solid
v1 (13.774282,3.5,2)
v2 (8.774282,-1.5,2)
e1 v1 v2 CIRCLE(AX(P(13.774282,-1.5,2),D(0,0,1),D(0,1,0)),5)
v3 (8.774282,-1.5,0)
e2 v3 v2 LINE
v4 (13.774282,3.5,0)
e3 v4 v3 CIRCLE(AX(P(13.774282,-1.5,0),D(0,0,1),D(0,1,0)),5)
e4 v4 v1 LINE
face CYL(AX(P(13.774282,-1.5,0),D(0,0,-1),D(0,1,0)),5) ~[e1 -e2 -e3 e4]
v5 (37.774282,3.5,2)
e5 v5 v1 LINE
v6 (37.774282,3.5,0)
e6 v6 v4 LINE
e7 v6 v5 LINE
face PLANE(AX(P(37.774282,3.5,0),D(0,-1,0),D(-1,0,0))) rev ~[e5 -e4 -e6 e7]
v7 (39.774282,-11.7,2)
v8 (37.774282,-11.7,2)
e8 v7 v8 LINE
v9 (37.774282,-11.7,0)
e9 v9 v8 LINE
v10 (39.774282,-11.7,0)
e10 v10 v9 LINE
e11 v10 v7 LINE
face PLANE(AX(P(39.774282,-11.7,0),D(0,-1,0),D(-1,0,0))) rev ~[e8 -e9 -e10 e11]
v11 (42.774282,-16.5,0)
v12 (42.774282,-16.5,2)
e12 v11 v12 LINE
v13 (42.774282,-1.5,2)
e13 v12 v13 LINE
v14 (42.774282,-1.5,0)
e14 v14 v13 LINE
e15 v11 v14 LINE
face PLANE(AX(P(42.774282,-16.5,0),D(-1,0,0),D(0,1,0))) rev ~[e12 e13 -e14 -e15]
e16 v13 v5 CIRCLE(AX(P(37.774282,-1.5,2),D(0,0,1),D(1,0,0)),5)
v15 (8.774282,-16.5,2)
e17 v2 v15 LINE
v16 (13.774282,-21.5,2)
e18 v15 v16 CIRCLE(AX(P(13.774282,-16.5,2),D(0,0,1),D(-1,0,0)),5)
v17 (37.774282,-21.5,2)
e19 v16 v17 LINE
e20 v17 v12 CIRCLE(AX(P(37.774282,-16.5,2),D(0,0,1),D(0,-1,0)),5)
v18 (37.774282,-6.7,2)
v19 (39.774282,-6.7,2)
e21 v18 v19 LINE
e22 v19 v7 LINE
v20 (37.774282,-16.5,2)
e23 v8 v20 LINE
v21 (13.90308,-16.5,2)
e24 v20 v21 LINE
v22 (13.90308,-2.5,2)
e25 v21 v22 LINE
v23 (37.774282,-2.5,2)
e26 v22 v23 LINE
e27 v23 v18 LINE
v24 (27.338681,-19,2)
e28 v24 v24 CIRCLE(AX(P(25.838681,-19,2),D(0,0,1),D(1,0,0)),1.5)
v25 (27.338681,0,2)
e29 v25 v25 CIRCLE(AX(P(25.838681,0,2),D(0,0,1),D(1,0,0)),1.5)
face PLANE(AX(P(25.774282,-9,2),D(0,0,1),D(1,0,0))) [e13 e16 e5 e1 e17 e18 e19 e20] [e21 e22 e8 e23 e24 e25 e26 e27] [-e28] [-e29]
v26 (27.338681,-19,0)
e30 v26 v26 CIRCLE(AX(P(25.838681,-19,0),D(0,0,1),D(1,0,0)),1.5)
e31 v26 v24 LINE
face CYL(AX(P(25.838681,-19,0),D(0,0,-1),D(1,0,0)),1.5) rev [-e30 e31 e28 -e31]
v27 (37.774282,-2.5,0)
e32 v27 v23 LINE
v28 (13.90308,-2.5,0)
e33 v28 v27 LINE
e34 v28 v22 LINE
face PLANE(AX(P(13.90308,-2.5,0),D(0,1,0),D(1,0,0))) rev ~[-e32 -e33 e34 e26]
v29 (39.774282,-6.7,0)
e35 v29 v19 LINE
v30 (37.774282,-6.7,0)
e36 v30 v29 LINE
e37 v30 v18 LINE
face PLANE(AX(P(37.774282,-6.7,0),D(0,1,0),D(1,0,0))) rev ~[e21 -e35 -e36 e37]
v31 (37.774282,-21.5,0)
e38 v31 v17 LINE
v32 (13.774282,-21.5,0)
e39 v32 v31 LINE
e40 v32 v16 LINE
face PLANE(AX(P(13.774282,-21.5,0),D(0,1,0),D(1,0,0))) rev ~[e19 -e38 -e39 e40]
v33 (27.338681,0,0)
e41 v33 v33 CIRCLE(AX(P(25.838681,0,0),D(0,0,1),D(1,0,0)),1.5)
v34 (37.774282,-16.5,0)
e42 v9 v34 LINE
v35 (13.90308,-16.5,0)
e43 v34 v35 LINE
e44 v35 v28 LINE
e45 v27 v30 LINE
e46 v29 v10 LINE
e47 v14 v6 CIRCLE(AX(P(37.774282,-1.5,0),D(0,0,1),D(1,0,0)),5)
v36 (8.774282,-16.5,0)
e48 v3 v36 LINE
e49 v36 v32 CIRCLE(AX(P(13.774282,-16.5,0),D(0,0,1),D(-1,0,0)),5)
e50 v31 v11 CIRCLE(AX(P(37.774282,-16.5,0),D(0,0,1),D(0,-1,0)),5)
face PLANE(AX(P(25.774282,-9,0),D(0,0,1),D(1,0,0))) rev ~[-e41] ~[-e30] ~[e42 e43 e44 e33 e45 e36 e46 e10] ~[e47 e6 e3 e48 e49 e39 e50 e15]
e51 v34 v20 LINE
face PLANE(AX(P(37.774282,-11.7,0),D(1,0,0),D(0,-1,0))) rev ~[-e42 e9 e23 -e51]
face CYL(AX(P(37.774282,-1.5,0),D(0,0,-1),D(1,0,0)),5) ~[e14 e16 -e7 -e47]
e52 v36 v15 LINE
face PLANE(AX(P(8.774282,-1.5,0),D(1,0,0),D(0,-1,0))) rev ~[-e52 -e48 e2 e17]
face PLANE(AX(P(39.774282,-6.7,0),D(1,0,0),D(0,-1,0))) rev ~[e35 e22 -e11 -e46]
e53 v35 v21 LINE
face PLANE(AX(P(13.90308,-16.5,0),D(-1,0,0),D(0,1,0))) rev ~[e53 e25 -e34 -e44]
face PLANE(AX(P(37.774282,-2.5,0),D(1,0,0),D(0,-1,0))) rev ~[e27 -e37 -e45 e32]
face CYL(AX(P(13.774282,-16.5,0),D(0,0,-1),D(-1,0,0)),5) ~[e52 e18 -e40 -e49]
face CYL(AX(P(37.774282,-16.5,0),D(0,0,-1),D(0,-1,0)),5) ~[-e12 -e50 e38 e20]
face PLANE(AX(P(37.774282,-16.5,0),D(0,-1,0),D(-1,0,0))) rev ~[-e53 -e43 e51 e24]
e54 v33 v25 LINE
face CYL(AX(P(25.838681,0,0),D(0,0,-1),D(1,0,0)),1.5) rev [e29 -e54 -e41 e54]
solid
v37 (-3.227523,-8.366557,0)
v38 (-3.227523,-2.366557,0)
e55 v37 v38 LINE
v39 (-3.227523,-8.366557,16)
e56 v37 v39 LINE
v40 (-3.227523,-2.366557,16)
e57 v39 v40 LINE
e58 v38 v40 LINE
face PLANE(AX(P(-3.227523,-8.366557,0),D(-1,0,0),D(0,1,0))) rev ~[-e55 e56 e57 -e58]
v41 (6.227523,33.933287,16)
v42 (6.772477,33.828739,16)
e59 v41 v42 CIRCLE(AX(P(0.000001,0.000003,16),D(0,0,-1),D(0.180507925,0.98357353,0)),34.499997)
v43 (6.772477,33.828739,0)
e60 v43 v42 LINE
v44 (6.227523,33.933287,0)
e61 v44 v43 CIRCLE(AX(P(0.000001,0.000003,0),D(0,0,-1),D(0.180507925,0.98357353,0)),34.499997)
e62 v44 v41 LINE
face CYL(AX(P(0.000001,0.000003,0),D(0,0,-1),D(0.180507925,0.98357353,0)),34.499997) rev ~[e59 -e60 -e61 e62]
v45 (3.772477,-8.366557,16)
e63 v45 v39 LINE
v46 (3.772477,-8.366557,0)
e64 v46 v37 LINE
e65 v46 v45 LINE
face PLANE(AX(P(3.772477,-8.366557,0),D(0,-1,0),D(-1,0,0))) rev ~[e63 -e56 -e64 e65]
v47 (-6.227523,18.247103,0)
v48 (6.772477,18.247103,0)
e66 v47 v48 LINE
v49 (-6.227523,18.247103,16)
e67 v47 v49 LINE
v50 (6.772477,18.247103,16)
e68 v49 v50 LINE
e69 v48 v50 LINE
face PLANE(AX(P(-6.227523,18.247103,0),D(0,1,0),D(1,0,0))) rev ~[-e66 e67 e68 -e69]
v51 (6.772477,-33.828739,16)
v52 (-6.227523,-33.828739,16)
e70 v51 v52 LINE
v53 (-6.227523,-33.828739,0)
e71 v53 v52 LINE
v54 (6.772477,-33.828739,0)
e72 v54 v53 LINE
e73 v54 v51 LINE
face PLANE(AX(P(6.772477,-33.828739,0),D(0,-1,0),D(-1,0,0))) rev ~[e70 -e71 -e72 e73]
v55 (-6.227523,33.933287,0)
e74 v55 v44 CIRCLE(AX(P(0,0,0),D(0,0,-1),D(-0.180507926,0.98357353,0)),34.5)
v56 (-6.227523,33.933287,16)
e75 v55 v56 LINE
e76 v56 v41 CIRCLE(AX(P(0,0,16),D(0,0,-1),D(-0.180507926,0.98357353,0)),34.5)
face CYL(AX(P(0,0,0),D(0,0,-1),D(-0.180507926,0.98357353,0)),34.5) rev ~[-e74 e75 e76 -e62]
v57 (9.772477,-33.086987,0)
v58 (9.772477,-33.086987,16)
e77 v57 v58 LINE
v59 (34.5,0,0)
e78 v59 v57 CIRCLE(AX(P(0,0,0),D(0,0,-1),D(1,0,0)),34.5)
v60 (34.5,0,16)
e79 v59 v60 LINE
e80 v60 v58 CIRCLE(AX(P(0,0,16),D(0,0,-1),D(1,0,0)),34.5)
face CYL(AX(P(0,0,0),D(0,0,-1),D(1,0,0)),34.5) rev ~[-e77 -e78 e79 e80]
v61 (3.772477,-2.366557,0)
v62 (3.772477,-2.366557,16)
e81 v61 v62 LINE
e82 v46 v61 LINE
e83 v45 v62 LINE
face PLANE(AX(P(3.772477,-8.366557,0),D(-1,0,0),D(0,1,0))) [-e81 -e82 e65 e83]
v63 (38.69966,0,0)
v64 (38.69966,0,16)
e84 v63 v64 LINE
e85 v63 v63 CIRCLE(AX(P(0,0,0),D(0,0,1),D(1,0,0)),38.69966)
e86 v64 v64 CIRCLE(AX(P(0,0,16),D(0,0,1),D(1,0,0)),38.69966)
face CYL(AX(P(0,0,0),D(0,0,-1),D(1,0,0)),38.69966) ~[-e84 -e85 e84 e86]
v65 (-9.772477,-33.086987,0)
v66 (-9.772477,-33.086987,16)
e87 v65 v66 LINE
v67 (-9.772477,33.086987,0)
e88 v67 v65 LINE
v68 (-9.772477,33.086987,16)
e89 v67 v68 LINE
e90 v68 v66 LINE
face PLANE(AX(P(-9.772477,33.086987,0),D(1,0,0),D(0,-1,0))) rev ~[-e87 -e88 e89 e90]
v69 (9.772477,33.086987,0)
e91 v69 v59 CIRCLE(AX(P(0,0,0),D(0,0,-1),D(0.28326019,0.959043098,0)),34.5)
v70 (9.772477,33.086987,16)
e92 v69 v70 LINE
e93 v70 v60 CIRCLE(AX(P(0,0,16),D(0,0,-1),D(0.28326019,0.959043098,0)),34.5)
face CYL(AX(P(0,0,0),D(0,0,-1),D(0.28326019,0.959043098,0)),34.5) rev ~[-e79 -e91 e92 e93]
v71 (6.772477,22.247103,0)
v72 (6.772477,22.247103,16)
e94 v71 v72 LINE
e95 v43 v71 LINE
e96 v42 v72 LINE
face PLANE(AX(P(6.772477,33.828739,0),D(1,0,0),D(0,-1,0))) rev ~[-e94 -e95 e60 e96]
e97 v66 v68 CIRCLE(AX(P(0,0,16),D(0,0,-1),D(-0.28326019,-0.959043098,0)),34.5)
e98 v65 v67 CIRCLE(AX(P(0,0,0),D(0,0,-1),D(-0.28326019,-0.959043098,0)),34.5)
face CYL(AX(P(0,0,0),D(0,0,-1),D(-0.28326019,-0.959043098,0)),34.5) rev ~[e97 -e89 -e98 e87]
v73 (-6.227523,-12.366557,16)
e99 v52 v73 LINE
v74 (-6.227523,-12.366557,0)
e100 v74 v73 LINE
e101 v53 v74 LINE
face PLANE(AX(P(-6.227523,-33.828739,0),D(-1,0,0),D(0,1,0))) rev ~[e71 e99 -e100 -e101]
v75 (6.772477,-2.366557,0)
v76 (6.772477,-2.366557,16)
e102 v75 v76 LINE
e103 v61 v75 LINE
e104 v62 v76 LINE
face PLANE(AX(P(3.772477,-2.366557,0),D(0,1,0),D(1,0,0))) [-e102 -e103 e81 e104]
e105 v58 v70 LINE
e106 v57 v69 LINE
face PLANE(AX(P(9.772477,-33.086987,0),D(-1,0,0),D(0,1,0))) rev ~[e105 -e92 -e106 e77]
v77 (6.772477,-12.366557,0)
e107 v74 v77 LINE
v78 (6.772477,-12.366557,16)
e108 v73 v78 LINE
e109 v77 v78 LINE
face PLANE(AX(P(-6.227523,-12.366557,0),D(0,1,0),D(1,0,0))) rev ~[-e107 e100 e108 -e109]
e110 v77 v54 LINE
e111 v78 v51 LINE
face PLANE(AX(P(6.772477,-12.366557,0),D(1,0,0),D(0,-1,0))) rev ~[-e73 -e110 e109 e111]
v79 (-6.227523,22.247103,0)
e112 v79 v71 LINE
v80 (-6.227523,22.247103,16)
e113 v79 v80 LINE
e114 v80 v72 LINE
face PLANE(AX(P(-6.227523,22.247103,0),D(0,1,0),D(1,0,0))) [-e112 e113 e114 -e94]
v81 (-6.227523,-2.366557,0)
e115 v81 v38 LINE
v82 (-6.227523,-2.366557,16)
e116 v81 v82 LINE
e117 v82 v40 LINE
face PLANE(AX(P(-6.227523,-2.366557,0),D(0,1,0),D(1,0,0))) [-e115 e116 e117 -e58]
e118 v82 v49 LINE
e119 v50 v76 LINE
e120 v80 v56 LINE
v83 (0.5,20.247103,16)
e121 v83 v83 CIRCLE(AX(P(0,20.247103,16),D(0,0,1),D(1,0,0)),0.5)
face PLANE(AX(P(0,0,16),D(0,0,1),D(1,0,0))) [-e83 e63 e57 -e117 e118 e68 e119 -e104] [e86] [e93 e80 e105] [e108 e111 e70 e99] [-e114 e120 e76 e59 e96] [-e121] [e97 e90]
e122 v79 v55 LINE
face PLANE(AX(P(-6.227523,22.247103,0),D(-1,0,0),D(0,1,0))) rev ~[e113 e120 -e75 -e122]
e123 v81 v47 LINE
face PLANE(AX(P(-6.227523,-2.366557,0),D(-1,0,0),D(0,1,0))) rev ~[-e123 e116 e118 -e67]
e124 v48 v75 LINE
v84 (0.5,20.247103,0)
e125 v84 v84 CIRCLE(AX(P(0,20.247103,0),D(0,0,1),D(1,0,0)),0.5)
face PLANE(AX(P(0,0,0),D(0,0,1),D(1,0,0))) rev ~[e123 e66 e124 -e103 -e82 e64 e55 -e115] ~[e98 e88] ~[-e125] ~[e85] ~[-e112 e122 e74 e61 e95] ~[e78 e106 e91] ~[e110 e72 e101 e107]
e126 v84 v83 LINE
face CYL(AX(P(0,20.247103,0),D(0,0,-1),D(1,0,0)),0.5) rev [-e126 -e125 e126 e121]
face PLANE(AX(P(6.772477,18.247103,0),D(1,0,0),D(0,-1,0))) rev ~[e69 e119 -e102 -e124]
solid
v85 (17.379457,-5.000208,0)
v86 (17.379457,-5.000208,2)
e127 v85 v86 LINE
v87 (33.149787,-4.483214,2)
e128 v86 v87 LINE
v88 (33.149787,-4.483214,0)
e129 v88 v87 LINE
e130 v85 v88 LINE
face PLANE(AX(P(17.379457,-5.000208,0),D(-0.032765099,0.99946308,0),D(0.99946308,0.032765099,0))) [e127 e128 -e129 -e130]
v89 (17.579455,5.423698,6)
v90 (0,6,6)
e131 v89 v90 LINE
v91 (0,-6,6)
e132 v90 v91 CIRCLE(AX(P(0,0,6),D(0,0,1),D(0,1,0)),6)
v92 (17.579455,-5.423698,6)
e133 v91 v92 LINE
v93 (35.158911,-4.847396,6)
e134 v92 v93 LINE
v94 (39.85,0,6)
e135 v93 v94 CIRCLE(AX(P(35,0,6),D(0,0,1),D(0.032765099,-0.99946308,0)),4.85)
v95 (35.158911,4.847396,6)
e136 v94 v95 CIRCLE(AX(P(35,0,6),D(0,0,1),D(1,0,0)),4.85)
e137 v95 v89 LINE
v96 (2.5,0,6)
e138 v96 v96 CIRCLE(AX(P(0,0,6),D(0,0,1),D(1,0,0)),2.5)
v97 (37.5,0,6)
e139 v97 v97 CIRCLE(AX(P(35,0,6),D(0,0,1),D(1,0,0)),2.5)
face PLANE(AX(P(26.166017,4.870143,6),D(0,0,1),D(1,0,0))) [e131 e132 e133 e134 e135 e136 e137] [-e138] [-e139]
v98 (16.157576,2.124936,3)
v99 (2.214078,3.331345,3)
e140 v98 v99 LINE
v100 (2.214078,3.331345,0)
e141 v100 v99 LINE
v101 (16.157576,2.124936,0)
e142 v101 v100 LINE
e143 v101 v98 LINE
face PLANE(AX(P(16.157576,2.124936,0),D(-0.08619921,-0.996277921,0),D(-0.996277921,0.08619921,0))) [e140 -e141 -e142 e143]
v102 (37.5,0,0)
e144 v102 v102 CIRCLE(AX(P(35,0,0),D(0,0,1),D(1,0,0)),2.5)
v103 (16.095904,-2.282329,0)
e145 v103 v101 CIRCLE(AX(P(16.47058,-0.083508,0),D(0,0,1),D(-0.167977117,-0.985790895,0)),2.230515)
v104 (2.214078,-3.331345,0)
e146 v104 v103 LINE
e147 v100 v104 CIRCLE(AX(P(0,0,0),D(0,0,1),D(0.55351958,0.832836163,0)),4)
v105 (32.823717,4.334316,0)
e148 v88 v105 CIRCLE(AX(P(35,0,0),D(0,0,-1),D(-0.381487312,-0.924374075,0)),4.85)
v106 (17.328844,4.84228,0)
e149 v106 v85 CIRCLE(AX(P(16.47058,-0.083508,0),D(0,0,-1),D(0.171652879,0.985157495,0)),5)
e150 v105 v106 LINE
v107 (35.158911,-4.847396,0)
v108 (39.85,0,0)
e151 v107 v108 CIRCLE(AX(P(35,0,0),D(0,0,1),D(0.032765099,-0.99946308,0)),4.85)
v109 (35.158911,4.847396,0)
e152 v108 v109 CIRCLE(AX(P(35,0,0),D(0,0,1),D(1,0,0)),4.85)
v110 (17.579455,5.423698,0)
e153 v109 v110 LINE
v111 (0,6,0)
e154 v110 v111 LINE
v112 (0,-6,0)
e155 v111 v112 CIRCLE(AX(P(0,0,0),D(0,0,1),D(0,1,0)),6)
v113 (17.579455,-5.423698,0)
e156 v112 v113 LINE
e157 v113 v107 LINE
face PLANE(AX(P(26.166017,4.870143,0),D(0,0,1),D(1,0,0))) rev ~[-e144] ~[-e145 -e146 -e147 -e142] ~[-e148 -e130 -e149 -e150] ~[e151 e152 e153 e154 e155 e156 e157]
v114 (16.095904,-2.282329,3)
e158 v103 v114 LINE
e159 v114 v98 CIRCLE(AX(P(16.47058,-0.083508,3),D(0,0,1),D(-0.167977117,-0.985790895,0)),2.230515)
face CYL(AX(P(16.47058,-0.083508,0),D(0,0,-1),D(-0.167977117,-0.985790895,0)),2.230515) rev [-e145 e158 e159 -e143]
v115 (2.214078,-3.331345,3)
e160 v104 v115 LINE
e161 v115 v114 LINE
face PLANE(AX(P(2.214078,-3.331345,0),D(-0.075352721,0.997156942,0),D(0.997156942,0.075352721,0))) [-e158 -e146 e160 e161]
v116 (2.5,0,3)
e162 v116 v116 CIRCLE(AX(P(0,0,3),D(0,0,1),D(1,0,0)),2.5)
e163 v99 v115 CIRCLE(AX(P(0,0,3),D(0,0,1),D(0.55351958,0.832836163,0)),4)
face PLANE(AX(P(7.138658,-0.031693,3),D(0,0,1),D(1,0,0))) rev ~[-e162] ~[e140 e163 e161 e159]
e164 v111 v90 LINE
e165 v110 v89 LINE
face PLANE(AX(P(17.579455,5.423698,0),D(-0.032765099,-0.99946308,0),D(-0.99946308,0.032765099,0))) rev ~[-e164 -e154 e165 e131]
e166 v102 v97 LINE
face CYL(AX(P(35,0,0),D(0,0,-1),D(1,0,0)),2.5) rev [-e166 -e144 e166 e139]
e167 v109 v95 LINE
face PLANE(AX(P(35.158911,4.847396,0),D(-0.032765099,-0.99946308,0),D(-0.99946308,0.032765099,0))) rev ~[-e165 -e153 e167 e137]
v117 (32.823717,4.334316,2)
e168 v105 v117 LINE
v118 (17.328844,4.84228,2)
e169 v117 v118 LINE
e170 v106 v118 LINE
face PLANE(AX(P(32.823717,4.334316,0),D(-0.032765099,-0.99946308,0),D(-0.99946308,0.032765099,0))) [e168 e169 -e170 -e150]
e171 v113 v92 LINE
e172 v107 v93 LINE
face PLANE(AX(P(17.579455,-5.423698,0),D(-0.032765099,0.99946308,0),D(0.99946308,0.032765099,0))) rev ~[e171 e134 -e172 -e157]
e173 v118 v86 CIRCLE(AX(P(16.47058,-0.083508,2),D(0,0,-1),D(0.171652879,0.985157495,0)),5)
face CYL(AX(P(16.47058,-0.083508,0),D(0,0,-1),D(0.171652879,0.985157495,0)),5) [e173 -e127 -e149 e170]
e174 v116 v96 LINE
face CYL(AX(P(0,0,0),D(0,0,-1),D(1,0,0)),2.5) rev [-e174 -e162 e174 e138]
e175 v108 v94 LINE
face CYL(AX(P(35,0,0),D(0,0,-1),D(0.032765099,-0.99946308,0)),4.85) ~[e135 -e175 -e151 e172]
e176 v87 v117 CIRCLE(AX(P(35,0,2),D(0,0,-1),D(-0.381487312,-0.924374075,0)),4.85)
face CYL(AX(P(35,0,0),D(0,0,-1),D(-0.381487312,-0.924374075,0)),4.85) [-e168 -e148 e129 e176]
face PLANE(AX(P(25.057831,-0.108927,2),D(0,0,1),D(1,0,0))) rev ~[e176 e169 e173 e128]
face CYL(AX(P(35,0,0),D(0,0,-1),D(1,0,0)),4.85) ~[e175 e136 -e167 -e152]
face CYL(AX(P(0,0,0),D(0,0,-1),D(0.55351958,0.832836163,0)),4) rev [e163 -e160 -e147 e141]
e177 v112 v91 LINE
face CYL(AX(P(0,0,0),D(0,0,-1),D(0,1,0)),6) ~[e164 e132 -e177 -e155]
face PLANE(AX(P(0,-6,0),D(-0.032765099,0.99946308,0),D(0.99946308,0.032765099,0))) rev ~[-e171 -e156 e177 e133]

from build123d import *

# Parameters (mm, degrees)
F0_R     = 1.5
F1_DEPTH = 2
F2_R     = 2.5
F3_DEPTH = 6
F4_DEPTH = 6
F5_DEPTH = 3
F6_DEPTH = 2
F7_R     = 38.6996597828
F7_W     = 3
F7_H     = 6
F7_W_2   = 13
F7_H_2   = 4
F7_R_2   = 0.5
F8_DEPTH = 16


with BuildPart() as f1:
    # F0 (on Top) → F1 (new body)
    with BuildSketch(Plane.XY):
        with BuildLine():
            Line((37.7742823958, 3.5), (13.7742823958, 3.5))
            ThreePointArc((13.7742823958, 3.5), (10.2387484899, 2.0355339059), (8.7742823958, -1.5))
            Line((8.7742823958, -1.5), (8.7742823958, -16.5))
            ThreePointArc((8.7742823958, -16.5), (10.2387484899, -20.0355339059), (13.7742823958, -21.5))
            Line((13.7742823958, -21.5), (37.7742823958, -21.5))
            ThreePointArc((37.7742823958, -21.5), (41.3098163018, -20.0355339059), (42.7742823958, -16.5))
            Line((42.7742823958, -16.5), (42.7742823958, -1.5))
            ThreePointArc((42.7742823958, -1.5), (41.3098163018, 2.0355339059), (37.7742823958, 3.5))
        make_face()
        with Locations((25.8386814408, -19)):
            Circle(F0_R, mode=Mode.SUBTRACT)
        Polygon((13.9030804858, -16.5), (13.9030804858, -2.5), (37.7742823958, -2.5), (37.7742823958, -6.7), (39.7742823958, -6.7), (39.7742823958, -11.7), (37.7742823958, -11.7), (37.7742823958, -16.5), align=None, mode=Mode.SUBTRACT)
        with Locations((25.8386814408, 0)):
            Circle(F0_R, mode=Mode.SUBTRACT)
    extrude(amount=F1_DEPTH)


with BuildPart() as f3:
    # F2 (on Top) → F3 (new body)
    with BuildSketch(Plane.XY):
        with BuildLine():
            Line((17.5794553661, 5.423697969), (0, 6))
            ThreePointArc((0, 6), (-6, 0), (0, -6))
            Line((0, -6), (17.5794553661, -5.423697969))
            Line((17.5794553661, -5.423697969), (17.3794570281, -5.0002082628))
            Line((17.3794570281, -5.0002082628), (16.0959043206, -2.2823288828))
            Line((16.0959043206, -2.2823288828), (2.2140783206, -3.331344652))
            ThreePointArc((2.2140783206, -3.331344652), (-4, 0), (2.2140783206, 3.331344652))
            Line((2.2140783206, 3.331344652), (16.1575759853, 2.1249358199))
            Line((16.1575759853, 2.1249358199), (17.3288441212, 4.8422795309))
            Line((17.3288441212, 4.8422795309), (17.5794553661, 5.423697969))
        make_face()
        with BuildLine():
            ThreePointArc((17.3794570281, -5.0002082628), (21.4705136181, -0.0577968417), (17.3288441212, 4.8422795309))
            Line((17.3288441212, 4.8422795309), (16.1575759853, 2.1249358199))
            ThreePointArc((16.1575759853, 2.1249358199), (18.7008759361, -0.1147168864), (16.0959043206, -2.2823288828))
            Line((16.0959043206, -2.2823288828), (17.3794570281, -5.0002082628))
        make_face()
        with BuildLine():
            ThreePointArc((39.85, 0), (38.4851984916, 3.3728165492), (35.1589107322, 4.8473959379))
            ThreePointArc((35.1589107322, 4.8473959379), (33.95920204, 4.7370074526), (32.8237171443, 4.3343157397))
            ThreePointArc((32.8237171443, 4.3343157397), (30.1533127814, -0.179228917), (33.149786536, -4.4832142641))
            ThreePointArc((33.149786536, -4.4832142641), (34.1349662981, -4.7722339312), (35.1589107322, -4.8473959379))
            ThreePointArc((35.1589107322, -4.8473959379), (38.4851984916, -3.3728165492), (39.85, 0))
        make_face()
        with Locations((35, 0)):
            Circle(F2_R, mode=Mode.SUBTRACT)
        with BuildLine():
            ThreePointArc((16.0959043206, -2.2823288828), (18.7008759361, -0.1147168864), (16.1575759853, 2.1249358199))
            Line((16.1575759853, 2.1249358199), (2.2140783206, 3.331344652))
            ThreePointArc((2.2140783206, 3.331344652), (-4, 0), (2.2140783206, -3.331344652))
            Line((2.2140783206, -3.331344652), (16.0959043206, -2.2823288828))
        make_face()
        Circle(F2_R, mode=Mode.SUBTRACT)
        with BuildLine():
            Line((32.8237171443, 4.3343157397), (17.3288441212, 4.8422795309))
            ThreePointArc((17.3288441212, 4.8422795309), (21.4705136181, -0.0577968417), (17.3794570281, -5.0002082628))
            Line((17.3794570281, -5.0002082628), (33.149786536, -4.4832142641))
            ThreePointArc((33.149786536, -4.4832142641), (30.1533127814, -0.179228917), (32.8237171443, 4.3343157397))
        make_face()
    extrude(amount=F3_DEPTH)

    # F2 (on Top) → F4 (join)
    with BuildSketch(Plane.XY):
        with BuildLine():
            Line((35.1589107322, 4.8473959379), (17.5794553661, 5.423697969))
            Line((17.5794553661, 5.423697969), (17.3288441212, 4.8422795309))
            Line((17.3288441212, 4.8422795309), (32.8237171443, 4.3343157397))
            ThreePointArc((32.8237171443, 4.3343157397), (33.95920204, 4.7370074526), (35.1589107322, 4.8473959379))
        make_face()
        with BuildLine():
            Line((17.3794570281, -5.0002082628), (17.5794553661, -5.423697969))
            Line((17.5794553661, -5.423697969), (35.1589107322, -4.8473959379))
            ThreePointArc((35.1589107322, -4.8473959379), (34.1349662981, -4.7722339312), (33.149786536, -4.4832142641))
            Line((33.149786536, -4.4832142641), (17.3794570281, -5.0002082628))
        make_face()
    extrude(amount=F4_DEPTH)

    # F2 (on Top) → F5 (cut)
    with BuildSketch(Plane.XY):
        with BuildLine():
            ThreePointArc((16.0959043206, -2.2823288828), (18.7008759361, -0.1147168864), (16.1575759853, 2.1249358199))
            Line((16.1575759853, 2.1249358199), (2.2140783206, 3.331344652))
            ThreePointArc((2.2140783206, 3.331344652), (-4, 0), (2.2140783206, -3.331344652))
            Line((2.2140783206, -3.331344652), (16.0959043206, -2.2823288828))
        make_face()
        Circle(F2_R, mode=Mode.SUBTRACT)
    extrude(amount=F5_DEPTH, mode=Mode.SUBTRACT)

    # F2 (on Top) → F6 (cut)
    with BuildSketch(Plane.XY):
        with BuildLine():
            Line((32.8237171443, 4.3343157397), (17.3288441212, 4.8422795309))
            ThreePointArc((17.3288441212, 4.8422795309), (21.4705136181, -0.0577968417), (17.3794570281, -5.0002082628))
            Line((17.3794570281, -5.0002082628), (33.149786536, -4.4832142641))
            ThreePointArc((33.149786536, -4.4832142641), (30.1533127814, -0.179228917), (32.8237171443, 4.3343157397))
        make_face()
    extrude(amount=F6_DEPTH, mode=Mode.SUBTRACT)


with BuildPart() as f8:
    # F7 (on Top) → F8 (new body)
    with BuildSketch(Plane.XY):
        Circle(F7_R)
        with BuildLine():
            ThreePointArc((9.7724765655, 33.0869868948), (27.6351265739, 20.653081592), (34.5, 0))
            ThreePointArc((34.5, 0), (27.6351265739, -20.653081592), (9.7724765655, -33.0869868948))
            ThreePointArc((9.7724765655, -33.0869868948), (8.2807860411, -33.4914702953), (6.7724765655, -33.8287386872))
            ThreePointArc((6.7724765655, -33.8287386872), (-1.5451695475, -34.4653804719), (-9.7724765655, -33.0869868948))
            ThreePointArc((-9.7724765655, -33.0869868948), (-34.5, 0), (-9.7724765655, 33.0869868948))
            ThreePointArc((-9.7724765655, 33.0869868948), (-8.0111831757, 33.5569805573), (-6.2275234345, 33.9332867826))
            ThreePointArc((-6.2275234345, 33.9332867826), (0, 34.5), (6.2275234345, 33.9332867826))
            ThreePointArc((6.2275234345, 33.9332867826), (6.5002101948, 33.8821083675), (6.7724765655, 33.8287386872))
            ThreePointArc((6.7724765655, 33.8287386872), (8.2807860411, 33.4914702953), (9.7724765655, 33.0869868948))
        make_face(mode=Mode.SUBTRACT)
        with Locations((5.2724765655, -5.3665565625)):
            Rectangle(F7_W, F7_H)
        with Locations((-4.7275234345, -5.3665565625)):
            Rectangle(F7_W, F7_H)
        with BuildLine():
            Line((9.7724765655, -33.0869868948), (9.7724765655, 33.0869868948))
            ThreePointArc((9.7724765655, 33.0869868948), (8.2807860411, 33.4914702953), (6.7724765655, 33.8287386872))
            Line((6.7724765655, 33.8287386872), (6.7724765655, 22.2471028529))
            Line((6.7724765655, 22.2471028529), (6.7724765655, 18.2471028529))
            Line((6.7724765655, 18.2471028529), (6.7724765655, -2.3665565625))
            Line((6.7724765655, -2.3665565625), (6.7724765655, -8.3665565625))
            Line((6.7724765655, -8.3665565625), (6.7724765655, -12.3665565625))
            Line((6.7724765655, -12.3665565625), (6.7724765655, -33.8287386872))
            ThreePointArc((6.7724765655, -33.8287386872), (8.2807860411, -33.4914702953), (9.7724765655, -33.0869868948))
        make_face()
        with Locations((0.2724765655, 20.2471028529)):
            Rectangle(F7_W_2, F7_H_2)
        with Locations((0, 20.2471028529)):
            Circle(F7_R_2, mode=Mode.SUBTRACT)
        with BuildLine():
            ThreePointArc((-9.7724765655, -33.0869868948), (-1.5451695475, -34.4653804719), (6.7724765655, -33.8287386872))
            Line((6.7724765655, -33.8287386872), (-6.2275234345, -33.8287386872))
            Line((-6.2275234345, -33.8287386872), (-6.2275234345, -12.3665565625))
            Line((-6.2275234345, -12.3665565625), (-6.2275234345, -8.3665565625))
            Line((-6.2275234345, -8.3665565625), (-6.2275234345, -2.3665565625))
            Line((-6.2275234345, -2.3665565625), (-6.2275234345, 18.2471028529))
            Line((-6.2275234345, 18.2471028529), (-6.2275234345, 22.2471028529))
            Line((-6.2275234345, 22.2471028529), (-6.2275234345, 33.9332867826))
            ThreePointArc((-6.2275234345, 33.9332867826), (-8.0111831757, 33.5569805573), (-9.7724765655, 33.0869868948))
            Line((-9.7724765655, 33.0869868948), (-9.7724765655, -33.0869868948))
        make_face()
        Polygon((-6.2275234345, -12.3665565625), (6.7724765655, -12.3665565625), (6.7724765655, -8.3665565625), (3.7724765655, -8.3665565625), (-3.2275234345, -8.3665565625), (-6.2275234345, -8.3665565625), align=None)
    extrude(amount=F8_DEPTH)


solid = Compound([f1.part, f3.part, f8.part])
